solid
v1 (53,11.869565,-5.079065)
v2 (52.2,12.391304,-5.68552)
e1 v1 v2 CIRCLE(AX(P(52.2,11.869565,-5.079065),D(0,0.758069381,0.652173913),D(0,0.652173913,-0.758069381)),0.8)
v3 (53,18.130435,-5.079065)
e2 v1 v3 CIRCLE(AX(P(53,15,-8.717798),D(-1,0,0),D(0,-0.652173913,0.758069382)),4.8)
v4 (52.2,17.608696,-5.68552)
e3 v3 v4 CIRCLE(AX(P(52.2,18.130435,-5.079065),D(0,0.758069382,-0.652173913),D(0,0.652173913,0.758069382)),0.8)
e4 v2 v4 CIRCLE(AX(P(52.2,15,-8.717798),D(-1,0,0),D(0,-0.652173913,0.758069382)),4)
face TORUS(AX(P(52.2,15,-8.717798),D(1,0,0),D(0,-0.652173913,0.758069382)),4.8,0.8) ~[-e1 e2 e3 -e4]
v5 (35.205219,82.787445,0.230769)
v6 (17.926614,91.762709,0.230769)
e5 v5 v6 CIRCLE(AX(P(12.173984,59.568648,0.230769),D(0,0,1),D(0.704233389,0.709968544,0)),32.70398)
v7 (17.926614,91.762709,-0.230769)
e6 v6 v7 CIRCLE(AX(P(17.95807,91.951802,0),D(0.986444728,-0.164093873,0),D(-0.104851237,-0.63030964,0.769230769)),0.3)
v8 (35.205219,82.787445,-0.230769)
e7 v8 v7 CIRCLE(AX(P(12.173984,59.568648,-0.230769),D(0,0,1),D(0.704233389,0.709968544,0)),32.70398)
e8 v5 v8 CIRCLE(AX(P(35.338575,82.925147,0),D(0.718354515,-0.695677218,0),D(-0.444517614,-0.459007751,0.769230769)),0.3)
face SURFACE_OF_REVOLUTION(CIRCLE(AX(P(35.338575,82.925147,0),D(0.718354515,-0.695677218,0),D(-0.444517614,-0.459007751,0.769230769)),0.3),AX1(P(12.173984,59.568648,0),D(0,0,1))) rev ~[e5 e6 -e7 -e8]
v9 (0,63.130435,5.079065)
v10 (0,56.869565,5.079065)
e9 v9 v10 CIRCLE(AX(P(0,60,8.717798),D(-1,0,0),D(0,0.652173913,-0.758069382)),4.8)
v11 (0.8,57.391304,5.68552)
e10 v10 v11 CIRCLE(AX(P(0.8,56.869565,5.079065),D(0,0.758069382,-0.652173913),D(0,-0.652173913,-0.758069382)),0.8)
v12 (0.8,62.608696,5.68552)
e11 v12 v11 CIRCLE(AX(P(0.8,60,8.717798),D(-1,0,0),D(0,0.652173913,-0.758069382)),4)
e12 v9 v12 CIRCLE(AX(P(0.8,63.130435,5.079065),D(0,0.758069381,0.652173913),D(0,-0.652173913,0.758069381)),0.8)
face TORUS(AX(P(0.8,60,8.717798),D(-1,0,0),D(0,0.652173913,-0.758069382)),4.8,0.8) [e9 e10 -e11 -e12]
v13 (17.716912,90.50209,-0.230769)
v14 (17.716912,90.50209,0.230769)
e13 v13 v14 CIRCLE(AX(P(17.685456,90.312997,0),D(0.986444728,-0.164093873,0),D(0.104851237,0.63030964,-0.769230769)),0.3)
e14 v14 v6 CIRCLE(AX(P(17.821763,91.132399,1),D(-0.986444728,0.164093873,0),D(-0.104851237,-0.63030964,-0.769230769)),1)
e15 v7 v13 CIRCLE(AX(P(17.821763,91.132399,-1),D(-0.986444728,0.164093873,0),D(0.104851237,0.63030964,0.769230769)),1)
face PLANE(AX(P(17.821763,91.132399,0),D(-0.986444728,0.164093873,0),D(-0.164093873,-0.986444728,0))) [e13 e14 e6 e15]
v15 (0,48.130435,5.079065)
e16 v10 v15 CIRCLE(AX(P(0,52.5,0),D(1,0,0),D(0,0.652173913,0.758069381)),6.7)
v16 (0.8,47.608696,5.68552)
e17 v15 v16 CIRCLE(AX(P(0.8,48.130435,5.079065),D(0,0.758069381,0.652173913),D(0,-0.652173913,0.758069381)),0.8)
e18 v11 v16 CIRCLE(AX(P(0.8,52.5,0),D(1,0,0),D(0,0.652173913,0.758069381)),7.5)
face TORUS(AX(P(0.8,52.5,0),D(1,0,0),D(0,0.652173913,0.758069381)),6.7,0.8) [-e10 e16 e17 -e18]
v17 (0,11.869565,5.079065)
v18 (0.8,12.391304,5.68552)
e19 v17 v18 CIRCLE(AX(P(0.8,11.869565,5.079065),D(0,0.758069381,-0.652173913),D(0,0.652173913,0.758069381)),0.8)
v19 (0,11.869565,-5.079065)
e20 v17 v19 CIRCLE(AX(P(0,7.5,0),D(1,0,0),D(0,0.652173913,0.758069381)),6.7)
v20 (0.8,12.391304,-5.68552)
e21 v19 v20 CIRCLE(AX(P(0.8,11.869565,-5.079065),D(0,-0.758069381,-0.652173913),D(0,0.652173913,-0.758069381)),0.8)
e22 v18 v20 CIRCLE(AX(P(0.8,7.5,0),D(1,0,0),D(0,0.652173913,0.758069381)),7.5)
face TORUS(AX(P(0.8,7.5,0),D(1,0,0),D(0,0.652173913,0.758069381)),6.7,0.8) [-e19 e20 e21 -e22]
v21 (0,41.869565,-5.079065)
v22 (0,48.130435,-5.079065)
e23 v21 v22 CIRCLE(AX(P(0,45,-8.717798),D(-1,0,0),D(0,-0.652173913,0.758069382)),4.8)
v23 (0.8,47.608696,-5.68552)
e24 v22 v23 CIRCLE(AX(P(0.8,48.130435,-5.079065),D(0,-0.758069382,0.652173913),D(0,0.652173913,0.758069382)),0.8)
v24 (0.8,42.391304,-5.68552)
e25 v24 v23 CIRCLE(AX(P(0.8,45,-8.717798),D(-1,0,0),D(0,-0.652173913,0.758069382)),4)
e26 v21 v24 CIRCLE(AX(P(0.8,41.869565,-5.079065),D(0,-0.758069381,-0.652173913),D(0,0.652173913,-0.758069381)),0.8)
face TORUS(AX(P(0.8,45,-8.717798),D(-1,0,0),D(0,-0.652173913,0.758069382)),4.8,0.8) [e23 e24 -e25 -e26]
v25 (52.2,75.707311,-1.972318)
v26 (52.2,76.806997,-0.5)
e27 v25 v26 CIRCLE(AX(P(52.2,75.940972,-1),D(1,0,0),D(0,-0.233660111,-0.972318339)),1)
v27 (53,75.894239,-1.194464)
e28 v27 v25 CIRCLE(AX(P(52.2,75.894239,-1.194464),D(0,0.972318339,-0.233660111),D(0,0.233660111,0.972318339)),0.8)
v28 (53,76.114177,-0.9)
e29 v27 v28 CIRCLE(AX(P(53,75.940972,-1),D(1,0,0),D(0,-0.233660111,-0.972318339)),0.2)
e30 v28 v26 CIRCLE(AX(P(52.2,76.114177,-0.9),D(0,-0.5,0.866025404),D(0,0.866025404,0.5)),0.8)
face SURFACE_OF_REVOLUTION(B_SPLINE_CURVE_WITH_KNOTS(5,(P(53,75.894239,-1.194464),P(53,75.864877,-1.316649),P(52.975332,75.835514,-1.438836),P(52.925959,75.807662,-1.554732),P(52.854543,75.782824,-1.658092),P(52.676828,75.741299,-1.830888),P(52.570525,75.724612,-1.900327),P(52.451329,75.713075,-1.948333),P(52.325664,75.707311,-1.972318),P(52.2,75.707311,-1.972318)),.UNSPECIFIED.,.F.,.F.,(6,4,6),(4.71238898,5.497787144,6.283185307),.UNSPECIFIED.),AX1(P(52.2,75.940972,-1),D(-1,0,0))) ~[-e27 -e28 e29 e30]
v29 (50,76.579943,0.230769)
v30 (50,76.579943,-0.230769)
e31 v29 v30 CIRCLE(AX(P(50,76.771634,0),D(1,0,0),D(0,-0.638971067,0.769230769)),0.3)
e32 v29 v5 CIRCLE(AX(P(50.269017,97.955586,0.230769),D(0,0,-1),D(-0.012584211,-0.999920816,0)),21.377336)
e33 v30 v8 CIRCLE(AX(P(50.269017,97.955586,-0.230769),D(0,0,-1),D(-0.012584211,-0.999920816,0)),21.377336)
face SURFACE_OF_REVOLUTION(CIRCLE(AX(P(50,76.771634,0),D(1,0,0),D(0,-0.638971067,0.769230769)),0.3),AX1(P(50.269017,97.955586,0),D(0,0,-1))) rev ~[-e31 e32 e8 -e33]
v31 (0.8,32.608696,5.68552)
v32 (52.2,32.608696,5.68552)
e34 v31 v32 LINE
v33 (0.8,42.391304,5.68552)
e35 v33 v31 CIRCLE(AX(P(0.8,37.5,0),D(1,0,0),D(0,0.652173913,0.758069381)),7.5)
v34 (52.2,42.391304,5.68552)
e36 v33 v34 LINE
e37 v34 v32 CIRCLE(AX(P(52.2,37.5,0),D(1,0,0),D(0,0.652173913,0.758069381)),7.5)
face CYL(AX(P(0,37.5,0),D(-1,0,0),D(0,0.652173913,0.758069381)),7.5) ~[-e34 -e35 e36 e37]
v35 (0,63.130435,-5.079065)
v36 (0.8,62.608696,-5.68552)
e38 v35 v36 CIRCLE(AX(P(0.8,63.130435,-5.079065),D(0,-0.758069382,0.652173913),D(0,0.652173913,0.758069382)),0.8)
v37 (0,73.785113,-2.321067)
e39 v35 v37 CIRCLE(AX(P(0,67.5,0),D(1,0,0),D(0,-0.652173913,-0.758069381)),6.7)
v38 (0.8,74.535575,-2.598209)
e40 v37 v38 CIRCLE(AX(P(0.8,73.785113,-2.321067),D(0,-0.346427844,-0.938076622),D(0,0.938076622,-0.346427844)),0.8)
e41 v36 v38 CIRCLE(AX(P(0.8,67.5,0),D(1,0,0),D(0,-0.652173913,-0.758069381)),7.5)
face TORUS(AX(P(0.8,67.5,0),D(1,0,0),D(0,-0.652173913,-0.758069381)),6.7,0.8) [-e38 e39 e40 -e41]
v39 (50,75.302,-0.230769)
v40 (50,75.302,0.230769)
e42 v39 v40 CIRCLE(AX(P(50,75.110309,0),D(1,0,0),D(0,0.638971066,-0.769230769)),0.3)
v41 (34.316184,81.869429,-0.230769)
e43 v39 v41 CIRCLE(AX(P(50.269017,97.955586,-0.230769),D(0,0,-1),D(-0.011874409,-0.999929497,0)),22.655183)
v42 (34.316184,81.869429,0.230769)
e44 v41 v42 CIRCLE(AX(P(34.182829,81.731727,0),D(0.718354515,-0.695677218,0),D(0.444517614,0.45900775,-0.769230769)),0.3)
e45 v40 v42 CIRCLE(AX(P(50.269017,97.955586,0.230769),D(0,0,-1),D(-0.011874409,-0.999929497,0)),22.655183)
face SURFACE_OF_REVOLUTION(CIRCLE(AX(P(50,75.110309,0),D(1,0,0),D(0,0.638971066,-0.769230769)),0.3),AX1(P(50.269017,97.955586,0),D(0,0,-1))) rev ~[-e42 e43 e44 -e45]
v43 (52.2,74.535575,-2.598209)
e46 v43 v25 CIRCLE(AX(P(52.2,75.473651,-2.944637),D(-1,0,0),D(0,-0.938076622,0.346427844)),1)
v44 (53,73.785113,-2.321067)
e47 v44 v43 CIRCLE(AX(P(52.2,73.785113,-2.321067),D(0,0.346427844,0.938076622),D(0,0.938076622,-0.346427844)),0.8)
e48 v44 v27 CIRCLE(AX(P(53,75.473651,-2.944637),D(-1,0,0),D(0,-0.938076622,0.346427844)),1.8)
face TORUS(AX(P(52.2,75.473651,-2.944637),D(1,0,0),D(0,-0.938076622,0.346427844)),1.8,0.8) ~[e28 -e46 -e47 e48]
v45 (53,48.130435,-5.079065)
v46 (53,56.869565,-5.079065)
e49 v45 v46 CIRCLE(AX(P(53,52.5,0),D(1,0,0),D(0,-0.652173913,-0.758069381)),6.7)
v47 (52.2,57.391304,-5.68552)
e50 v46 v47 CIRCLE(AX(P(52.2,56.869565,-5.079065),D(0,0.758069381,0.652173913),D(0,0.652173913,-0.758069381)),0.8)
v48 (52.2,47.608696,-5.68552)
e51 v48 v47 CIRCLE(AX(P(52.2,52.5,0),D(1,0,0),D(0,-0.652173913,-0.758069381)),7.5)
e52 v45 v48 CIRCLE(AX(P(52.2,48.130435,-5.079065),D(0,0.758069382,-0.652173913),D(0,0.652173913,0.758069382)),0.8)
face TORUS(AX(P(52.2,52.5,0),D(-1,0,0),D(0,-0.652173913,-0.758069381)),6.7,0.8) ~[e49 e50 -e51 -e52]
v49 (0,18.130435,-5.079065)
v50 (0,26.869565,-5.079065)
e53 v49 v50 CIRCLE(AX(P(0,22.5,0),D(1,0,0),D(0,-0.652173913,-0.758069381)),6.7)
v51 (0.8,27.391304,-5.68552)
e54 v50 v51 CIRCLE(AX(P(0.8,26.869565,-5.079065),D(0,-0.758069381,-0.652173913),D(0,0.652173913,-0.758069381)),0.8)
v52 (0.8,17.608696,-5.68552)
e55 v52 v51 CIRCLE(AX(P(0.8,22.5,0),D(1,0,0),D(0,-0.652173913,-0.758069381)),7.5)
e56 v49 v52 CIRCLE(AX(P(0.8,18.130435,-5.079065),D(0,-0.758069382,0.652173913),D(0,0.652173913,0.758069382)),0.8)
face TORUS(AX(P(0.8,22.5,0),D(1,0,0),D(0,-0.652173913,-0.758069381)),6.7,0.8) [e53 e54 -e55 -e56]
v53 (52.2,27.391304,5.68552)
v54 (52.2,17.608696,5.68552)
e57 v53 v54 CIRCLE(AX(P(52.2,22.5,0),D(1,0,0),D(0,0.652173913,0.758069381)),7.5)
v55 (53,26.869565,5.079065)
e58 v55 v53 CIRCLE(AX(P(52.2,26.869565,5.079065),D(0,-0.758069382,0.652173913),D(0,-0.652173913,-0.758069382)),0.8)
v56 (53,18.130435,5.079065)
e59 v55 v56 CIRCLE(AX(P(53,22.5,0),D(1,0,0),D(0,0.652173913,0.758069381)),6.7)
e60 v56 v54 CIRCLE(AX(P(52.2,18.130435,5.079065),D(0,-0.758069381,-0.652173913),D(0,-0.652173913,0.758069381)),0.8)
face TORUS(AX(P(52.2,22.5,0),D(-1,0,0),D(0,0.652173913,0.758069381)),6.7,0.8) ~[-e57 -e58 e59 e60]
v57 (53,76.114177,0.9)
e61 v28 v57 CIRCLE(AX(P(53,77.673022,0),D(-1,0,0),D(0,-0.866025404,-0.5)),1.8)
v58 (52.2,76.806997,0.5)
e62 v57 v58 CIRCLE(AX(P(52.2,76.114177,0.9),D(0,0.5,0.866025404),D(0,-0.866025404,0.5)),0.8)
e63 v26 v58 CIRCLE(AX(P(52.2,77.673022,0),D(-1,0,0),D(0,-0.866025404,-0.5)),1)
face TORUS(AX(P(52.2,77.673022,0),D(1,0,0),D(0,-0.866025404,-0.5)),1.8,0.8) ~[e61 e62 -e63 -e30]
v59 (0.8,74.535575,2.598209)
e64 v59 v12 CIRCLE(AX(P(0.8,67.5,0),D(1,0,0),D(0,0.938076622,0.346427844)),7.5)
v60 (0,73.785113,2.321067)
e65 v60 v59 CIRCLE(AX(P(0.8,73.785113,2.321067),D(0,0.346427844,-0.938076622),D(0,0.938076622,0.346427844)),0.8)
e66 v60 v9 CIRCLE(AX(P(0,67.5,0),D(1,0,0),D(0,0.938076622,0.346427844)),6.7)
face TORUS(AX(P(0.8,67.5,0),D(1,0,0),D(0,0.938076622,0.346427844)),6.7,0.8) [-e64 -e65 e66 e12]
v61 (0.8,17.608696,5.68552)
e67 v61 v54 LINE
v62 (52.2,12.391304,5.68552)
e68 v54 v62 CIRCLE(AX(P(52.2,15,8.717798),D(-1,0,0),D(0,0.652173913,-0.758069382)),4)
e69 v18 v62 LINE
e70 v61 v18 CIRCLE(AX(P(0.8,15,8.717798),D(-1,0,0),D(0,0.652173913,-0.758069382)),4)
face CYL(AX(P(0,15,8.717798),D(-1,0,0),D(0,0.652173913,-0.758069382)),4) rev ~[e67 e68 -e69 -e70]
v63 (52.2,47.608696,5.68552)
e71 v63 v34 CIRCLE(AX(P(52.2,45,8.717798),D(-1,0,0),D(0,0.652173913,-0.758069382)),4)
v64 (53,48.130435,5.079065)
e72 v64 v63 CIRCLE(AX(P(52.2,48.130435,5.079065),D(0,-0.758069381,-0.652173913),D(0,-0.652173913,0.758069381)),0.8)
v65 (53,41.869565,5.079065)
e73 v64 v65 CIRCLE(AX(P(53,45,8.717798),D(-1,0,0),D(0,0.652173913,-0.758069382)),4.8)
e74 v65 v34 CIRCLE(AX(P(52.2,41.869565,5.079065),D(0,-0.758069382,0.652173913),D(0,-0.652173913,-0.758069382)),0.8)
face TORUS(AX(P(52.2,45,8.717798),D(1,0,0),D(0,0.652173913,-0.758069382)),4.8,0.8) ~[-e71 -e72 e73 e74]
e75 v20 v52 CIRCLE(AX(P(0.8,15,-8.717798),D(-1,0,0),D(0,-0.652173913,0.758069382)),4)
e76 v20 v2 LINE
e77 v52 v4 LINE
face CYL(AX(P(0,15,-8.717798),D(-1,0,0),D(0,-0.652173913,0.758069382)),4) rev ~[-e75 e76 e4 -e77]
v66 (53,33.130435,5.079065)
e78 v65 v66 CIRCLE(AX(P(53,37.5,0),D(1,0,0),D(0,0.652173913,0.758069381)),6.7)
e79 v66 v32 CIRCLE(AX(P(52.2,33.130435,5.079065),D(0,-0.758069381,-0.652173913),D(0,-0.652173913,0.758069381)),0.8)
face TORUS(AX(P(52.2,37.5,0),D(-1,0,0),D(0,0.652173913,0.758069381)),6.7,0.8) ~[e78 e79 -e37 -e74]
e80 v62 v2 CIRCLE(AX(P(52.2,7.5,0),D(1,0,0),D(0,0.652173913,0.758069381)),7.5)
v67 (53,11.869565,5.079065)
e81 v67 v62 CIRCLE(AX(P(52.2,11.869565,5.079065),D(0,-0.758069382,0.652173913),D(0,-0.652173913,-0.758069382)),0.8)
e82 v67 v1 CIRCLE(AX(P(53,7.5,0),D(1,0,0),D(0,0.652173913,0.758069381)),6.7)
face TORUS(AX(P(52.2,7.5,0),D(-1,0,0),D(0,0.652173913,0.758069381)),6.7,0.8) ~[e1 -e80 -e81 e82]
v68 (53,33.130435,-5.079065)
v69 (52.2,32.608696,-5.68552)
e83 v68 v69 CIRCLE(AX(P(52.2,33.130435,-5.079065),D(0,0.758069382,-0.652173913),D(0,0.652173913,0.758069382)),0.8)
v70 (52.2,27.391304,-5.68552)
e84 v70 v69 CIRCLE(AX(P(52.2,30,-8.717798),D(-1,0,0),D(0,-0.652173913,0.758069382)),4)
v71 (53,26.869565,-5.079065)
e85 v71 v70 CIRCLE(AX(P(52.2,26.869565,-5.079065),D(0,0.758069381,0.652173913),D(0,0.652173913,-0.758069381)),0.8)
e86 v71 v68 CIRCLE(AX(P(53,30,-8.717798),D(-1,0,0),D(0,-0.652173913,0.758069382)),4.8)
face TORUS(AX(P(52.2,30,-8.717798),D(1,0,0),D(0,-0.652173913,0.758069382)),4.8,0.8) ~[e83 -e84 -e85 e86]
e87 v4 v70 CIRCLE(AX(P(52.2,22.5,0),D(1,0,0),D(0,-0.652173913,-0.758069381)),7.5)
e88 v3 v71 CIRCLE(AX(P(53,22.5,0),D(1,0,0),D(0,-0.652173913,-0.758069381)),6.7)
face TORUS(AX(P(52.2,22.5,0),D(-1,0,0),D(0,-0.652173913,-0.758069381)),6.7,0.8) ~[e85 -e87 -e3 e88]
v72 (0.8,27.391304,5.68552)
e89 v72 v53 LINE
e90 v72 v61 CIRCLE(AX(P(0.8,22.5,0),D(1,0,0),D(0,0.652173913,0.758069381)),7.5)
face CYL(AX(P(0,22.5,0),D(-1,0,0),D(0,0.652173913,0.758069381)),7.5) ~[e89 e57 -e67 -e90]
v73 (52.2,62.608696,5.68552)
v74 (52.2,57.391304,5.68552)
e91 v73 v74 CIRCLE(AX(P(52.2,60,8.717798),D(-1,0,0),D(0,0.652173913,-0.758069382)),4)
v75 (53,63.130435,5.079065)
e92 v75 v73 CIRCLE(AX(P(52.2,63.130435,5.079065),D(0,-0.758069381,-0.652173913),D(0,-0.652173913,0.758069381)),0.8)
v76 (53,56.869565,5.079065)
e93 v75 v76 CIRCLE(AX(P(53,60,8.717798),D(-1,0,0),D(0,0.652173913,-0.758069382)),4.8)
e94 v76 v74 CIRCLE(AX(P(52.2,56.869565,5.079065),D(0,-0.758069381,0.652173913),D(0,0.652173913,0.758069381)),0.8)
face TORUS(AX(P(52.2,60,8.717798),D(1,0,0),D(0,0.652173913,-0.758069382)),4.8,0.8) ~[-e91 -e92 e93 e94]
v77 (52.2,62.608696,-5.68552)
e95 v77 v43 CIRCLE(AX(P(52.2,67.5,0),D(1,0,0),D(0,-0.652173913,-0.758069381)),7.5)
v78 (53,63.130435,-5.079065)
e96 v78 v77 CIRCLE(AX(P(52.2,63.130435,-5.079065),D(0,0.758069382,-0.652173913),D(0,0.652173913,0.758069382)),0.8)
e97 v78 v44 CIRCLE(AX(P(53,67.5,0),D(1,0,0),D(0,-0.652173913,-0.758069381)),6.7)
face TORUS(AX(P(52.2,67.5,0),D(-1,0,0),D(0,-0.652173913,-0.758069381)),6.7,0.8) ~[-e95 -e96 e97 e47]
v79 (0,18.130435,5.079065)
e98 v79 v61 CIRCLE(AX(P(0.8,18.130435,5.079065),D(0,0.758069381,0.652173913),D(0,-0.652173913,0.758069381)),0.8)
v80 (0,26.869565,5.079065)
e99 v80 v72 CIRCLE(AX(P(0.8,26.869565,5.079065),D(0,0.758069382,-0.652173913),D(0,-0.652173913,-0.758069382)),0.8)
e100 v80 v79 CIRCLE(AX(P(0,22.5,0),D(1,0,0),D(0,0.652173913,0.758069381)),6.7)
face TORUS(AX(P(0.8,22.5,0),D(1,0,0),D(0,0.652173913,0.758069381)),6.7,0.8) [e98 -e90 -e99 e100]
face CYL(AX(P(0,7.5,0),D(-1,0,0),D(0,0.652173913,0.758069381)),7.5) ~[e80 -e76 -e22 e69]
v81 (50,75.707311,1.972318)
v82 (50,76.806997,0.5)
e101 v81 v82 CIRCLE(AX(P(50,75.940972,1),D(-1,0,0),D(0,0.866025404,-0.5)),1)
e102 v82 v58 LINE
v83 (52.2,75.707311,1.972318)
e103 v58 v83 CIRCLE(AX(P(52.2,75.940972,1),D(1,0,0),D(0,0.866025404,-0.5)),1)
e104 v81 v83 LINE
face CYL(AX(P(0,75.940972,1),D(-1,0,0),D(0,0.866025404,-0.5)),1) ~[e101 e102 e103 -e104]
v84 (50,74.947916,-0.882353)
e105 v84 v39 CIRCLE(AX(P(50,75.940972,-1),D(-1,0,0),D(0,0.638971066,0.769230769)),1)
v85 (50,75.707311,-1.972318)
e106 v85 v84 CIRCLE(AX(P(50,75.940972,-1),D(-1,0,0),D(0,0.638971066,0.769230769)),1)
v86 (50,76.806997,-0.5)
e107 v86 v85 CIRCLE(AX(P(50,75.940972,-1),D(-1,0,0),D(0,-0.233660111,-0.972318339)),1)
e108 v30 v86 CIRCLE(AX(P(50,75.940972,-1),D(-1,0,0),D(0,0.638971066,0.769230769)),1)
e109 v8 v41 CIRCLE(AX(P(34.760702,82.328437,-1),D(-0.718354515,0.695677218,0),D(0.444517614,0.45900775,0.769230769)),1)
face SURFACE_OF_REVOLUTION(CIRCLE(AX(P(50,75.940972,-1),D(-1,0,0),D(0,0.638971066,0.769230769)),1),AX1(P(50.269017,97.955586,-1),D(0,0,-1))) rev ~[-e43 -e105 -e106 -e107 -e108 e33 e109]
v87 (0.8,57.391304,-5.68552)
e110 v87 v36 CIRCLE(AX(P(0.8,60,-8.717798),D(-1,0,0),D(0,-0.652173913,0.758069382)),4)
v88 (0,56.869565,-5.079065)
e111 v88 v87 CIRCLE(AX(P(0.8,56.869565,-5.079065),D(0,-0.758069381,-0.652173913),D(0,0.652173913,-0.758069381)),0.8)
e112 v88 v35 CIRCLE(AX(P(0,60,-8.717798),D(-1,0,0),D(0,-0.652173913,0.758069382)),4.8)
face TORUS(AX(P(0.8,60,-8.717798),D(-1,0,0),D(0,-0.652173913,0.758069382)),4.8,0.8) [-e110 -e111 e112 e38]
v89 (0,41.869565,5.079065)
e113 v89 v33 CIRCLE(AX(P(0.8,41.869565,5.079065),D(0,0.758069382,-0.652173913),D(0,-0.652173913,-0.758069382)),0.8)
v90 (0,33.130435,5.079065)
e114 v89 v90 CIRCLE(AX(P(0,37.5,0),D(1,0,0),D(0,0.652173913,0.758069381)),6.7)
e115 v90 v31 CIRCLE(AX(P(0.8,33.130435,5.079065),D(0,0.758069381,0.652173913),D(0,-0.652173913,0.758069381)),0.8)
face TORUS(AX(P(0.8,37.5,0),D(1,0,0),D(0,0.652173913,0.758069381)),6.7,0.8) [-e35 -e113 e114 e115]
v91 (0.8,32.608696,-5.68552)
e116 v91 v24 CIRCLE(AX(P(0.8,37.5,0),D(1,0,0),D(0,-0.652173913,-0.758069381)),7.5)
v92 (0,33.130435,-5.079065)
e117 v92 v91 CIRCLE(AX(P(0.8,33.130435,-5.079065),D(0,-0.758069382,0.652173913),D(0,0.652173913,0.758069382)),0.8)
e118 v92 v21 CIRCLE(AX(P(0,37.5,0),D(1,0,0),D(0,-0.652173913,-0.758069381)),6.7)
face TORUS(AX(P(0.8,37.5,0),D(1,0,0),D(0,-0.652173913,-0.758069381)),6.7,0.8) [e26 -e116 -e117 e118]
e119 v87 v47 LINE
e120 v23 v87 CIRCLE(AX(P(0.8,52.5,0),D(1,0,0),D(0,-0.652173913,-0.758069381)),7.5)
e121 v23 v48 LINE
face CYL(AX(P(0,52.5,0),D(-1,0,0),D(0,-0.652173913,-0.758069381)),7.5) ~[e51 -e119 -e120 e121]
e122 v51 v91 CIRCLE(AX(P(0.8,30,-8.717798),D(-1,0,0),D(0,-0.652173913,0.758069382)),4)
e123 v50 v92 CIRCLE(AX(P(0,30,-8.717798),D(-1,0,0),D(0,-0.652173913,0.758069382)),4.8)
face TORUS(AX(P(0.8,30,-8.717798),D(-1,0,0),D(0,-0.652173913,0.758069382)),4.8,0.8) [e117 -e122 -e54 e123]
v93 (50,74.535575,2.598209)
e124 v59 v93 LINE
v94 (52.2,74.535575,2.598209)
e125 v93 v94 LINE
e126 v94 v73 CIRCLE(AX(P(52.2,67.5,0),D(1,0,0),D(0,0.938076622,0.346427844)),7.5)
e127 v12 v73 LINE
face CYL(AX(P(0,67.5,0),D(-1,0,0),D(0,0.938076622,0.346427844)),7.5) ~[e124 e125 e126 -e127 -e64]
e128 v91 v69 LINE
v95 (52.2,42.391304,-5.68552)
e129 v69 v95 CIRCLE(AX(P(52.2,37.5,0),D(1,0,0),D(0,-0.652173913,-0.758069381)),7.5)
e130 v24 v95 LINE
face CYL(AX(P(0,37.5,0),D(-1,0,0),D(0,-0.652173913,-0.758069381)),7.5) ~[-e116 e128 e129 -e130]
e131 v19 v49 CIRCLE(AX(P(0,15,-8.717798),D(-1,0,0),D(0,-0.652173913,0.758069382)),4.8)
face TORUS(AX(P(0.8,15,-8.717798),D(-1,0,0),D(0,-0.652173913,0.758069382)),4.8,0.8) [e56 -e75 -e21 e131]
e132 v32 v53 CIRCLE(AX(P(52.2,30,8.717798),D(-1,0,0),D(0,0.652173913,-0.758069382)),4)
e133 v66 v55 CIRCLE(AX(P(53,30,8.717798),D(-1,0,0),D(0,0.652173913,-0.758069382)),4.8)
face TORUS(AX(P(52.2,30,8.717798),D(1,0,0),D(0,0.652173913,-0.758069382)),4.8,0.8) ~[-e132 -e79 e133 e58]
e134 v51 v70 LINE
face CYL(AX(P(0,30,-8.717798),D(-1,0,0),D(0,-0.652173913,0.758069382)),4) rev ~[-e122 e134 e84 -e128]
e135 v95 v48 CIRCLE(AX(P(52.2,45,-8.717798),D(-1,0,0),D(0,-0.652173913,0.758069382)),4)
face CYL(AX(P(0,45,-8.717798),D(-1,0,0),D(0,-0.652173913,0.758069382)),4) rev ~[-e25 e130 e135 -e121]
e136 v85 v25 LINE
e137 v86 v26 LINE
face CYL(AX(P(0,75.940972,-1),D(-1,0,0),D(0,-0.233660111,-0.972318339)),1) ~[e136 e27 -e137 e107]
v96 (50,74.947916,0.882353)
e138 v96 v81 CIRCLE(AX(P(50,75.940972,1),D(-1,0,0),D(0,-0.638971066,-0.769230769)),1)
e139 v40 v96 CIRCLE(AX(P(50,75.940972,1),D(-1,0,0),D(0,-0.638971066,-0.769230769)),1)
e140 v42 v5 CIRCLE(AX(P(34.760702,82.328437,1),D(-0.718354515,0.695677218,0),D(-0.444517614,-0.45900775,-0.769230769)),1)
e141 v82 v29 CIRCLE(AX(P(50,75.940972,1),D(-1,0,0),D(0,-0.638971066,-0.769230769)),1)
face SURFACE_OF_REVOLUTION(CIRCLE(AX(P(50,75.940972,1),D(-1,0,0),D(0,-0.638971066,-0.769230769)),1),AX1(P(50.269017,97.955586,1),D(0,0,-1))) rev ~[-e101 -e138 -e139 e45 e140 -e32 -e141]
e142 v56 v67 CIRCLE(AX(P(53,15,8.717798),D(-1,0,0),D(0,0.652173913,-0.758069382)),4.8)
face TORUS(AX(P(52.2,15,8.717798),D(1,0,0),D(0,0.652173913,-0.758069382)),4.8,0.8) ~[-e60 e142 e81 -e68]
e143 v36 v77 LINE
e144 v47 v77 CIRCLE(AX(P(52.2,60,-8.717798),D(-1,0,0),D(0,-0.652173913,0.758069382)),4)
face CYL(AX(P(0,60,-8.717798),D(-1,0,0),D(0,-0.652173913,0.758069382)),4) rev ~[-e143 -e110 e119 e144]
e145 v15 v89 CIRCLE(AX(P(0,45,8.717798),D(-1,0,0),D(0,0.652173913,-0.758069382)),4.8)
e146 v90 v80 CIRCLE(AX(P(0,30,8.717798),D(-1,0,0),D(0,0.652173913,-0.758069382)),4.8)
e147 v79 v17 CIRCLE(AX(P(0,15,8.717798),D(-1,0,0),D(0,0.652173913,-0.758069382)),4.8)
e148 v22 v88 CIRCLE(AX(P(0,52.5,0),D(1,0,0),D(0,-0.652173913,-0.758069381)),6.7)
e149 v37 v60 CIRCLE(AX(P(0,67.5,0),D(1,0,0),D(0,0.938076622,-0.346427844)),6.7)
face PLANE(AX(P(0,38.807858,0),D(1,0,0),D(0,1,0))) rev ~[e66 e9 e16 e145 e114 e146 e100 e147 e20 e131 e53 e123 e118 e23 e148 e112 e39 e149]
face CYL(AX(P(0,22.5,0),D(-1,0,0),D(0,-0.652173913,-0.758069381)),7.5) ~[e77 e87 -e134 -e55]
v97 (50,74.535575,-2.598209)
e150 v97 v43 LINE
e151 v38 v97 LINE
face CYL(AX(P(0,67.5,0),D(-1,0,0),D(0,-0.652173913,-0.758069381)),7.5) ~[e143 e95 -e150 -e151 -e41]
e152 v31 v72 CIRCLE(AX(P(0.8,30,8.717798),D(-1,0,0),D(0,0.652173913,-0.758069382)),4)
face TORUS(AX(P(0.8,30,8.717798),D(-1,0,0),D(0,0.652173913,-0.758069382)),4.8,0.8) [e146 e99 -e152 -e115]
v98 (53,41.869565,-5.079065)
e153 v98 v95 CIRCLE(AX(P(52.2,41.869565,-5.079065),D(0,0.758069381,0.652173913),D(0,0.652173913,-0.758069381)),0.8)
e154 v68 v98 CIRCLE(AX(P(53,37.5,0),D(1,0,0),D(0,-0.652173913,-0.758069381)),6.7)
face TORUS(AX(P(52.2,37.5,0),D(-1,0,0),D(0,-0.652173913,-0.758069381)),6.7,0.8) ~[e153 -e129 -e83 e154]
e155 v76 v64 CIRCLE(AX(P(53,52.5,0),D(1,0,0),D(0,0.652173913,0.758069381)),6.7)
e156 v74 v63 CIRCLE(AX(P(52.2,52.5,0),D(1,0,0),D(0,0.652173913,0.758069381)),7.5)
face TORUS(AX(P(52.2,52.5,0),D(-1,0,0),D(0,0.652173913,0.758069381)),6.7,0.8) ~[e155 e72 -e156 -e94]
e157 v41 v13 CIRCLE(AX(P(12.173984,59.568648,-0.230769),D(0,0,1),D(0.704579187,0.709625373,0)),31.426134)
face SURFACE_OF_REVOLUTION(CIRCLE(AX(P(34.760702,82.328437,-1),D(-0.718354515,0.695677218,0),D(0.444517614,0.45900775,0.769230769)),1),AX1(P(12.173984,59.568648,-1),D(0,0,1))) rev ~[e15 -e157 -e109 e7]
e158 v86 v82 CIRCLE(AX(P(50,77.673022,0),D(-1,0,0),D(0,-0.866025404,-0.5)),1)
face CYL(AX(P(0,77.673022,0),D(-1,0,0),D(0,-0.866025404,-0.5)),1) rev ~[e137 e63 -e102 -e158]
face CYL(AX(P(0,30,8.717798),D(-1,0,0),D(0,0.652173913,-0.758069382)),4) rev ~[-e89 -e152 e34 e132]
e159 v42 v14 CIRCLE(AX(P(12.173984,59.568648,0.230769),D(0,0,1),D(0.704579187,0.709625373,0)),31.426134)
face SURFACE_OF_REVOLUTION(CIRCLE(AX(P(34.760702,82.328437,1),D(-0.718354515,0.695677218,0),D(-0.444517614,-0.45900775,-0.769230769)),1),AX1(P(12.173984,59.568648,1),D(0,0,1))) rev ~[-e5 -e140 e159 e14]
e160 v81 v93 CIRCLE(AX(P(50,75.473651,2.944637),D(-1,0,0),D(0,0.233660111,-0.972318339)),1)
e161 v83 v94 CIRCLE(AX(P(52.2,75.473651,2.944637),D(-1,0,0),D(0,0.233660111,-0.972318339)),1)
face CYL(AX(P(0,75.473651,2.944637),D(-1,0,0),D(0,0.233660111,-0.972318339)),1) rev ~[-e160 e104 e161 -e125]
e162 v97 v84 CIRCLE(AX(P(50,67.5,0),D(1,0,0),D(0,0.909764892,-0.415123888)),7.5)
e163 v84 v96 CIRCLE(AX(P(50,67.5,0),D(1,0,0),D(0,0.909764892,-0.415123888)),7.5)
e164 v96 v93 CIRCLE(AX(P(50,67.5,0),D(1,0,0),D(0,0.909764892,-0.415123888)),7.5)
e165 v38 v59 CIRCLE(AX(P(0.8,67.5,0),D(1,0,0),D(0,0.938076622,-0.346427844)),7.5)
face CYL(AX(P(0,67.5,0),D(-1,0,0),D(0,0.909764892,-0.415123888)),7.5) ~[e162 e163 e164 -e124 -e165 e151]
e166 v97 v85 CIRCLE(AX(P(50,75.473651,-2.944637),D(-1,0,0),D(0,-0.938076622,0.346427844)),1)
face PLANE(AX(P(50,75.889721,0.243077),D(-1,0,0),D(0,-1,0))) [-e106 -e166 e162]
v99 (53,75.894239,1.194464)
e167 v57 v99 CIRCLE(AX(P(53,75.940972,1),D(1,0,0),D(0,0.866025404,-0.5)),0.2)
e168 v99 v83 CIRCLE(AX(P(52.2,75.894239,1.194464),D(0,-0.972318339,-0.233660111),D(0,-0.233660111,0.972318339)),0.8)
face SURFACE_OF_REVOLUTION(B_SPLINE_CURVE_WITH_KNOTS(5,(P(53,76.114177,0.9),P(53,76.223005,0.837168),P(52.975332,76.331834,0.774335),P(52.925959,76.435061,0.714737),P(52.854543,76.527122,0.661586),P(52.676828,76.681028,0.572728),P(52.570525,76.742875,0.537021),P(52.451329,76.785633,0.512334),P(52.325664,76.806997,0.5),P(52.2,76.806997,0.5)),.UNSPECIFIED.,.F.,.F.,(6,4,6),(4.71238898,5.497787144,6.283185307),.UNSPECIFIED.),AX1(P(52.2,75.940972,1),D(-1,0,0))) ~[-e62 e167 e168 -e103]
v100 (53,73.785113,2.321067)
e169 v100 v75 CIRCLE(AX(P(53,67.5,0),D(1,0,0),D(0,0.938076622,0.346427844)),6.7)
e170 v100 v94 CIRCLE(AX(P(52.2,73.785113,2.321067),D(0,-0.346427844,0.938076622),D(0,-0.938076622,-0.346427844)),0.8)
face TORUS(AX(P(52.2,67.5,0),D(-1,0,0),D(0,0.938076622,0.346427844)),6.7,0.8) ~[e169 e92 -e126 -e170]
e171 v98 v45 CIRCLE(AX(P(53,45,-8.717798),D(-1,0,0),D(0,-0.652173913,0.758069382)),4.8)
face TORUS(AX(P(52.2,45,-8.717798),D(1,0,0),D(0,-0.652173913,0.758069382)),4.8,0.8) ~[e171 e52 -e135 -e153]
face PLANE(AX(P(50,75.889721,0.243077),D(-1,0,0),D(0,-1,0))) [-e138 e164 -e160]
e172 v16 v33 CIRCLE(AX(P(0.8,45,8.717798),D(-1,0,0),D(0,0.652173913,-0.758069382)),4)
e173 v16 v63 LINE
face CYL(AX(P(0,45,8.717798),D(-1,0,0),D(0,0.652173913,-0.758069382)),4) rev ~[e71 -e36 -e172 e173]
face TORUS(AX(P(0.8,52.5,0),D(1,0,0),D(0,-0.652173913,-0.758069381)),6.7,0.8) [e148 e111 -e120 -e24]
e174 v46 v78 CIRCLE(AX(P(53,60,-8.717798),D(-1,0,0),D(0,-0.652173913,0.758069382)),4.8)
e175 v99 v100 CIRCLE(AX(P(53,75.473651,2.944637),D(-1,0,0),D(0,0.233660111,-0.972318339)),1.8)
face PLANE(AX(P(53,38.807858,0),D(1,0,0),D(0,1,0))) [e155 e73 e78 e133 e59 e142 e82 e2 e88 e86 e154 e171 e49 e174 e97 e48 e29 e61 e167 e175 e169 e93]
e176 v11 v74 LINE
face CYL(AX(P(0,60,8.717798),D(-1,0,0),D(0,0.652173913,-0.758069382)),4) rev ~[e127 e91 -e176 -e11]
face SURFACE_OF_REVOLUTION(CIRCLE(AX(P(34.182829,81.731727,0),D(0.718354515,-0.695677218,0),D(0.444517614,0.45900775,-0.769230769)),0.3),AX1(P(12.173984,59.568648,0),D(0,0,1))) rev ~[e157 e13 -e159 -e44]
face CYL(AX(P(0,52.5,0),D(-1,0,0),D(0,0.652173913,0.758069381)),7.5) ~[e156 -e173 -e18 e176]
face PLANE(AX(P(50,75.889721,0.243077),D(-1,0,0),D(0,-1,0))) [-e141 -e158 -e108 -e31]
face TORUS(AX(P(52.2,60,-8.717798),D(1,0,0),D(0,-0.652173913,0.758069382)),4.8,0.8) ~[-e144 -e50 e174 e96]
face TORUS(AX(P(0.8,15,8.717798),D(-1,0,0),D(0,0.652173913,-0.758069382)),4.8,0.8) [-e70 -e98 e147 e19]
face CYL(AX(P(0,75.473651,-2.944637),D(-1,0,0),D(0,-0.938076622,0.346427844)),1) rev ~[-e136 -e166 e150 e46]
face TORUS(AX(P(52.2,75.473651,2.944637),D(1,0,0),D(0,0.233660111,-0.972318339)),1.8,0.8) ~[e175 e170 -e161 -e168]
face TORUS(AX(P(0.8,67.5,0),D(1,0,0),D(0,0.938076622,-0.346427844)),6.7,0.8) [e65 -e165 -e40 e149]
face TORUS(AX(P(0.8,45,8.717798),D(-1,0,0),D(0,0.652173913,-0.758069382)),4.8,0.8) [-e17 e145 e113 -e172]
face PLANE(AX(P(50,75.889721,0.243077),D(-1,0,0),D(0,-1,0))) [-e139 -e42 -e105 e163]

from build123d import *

# Parameters (mm, degrees)
F1_DEPTH = 53
F3_DEPTH = 50
F7_R     = 0.8


with BuildPart() as f1:
    # F0 (on Right) → F1 (new body)
    with BuildSketch(Plane.YZ):
        with BuildLine():
            ThreePointArc((17.6086956522, 5.6855203611), (15, 4.7177978871), (12.3913043478, 5.6855203611))
            ThreePointArc((12.3913043478, 5.6855203611), (0, 0), (12.3913043478, -5.6855203611))
            ThreePointArc((12.3913043478, -5.6855203611), (15, -4.7177978871), (17.6086956522, -5.6855203611))
            ThreePointArc((17.6086956522, -5.6855203611), (22.5, -7.5), (27.3913043478, -5.6855203611))
            ThreePointArc((27.3913043478, -5.6855203611), (30, -4.7177978871), (32.6086956522, -5.6855203611))
            ThreePointArc((32.6086956522, -5.6855203611), (37.5, -7.5), (42.3913043478, -5.6855203611))
            ThreePointArc((42.3913043478, -5.6855203611), (45, -4.7177978871), (47.6086956522, -5.6855203611))
            ThreePointArc((47.6086956522, -5.6855203611), (52.5, -7.5), (57.3913043478, -5.6855203611))
            ThreePointArc((57.3913043478, -5.6855203611), (60, -4.7177978871), (62.6086956522, -5.6855203611))
            ThreePointArc((62.6086956522, -5.6855203611), (69.3794538873, -7.2606923283), (74.5355746643, -2.5982088337))
            ThreePointArc((74.5355746643, -2.5982088337), (75.0024980382, -2.0625853095), (75.7073113971, -1.9723183391))
            ThreePointArc((75.7073113971, -1.9723183391), (76.7421592444, -1.5984130774), (76.8069969119, -0.5))
            ThreePointArc((76.8069969119, -0.5), (76.6730223156, 0), (76.8069969119, 0.5))
            ThreePointArc((76.8069969119, 0.5), (76.7421592444, 1.5984130774), (75.7073113971, 1.9723183391))
            ThreePointArc((75.7073113971, 1.9723183391), (75.0024980382, 2.0625853095), (74.5355746643, 2.5982088337))
            ThreePointArc((74.5355746643, 2.5982088337), (69.3794538873, 7.2606923283), (62.6086956522, 5.6855203611))
            ThreePointArc((62.6086956522, 5.6855203611), (60, 4.7177978871), (57.3913043478, 5.6855203611))
            ThreePointArc((57.3913043478, 5.6855203611), (52.5, 7.5), (47.6086956522, 5.6855203611))
            ThreePointArc((47.6086956522, 5.6855203611), (45, 4.7177978871), (42.3913043478, 5.6855203611))
            ThreePointArc((42.3913043478, 5.6855203611), (37.5, 7.5), (32.6086956522, 5.6855203611))
            ThreePointArc((32.6086956522, 5.6855203611), (30, 4.7177978871), (27.3913043478, 5.6855203611))
            ThreePointArc((27.3913043478, 5.6855203611), (22.5, 7.5), (17.6086956522, 5.6855203611))
        make_face()
    extrude(amount=F1_DEPTH)

    # F2 (on face) → F3 (cut)
    with BuildSketch(Plane(origin=(0, 0, 0), x_dir=(0, -1, 0), z_dir=(-1, 0, 0))):
        with BuildLine():
            ThreePointArc((-74.3232366862, -3.1134291585), (-74.9968540521, 0.2172080127), (-74.1315299701, 3.5032570924))
            Line((-74.1315299701, 3.5032570924), (-76.3535118617, 4.6770697505))
            ThreePointArc((-76.3535118617, 4.6770697505), (-77.5087742309, 0.2899864323), (-76.6094524504, -4.1566248075))
            Line((-76.6094524504, -4.1566248075), (-74.3232366862, -3.1134291585))
        make_face()
    extrude(amount=-F3_DEPTH, mode=Mode.SUBTRACT)

    # F6: sweep along a path in F5
    with BuildLine(Plane.XY) as f6_path:
        ThreePointArc((50, 75.9409715081), (41.758377577, 77.6507924909), (34.7607016812, 82.3284371988))
        ThreePointArc((34.7607016812, 82.3284371988), (26.9616186669, 88.0202502557), (17.821763065, 91.1323992428))
    # F4 (on face) → F6 (sweep)
    with BuildSketch(Plane(origin=(50, 0, 0), x_dir=(0, -1, 0), z_dir=(-1, 0, 0))):
        with BuildLine():
            ThreePointArc((-75.3020004417, -0.2307692308), (-75.4103091218, 0), (-75.3020004417, 0.2307692308))
            ThreePointArc((-75.3020004417, 0.2307692308), (-75.9409715081, 2), (-76.5799425744, 0.2307692308))
            ThreePointArc((-76.5799425744, 0.2307692308), (-76.4716338944, 0), (-76.5799425744, -0.2307692308))
            ThreePointArc((-76.5799425744, -0.2307692308), (-75.9409715081, -2), (-75.3020004417, -0.2307692308))
        make_face()
    sweep(path=f6_path.line)

    # F7
    f7_edges = [f1.edges().sort_by_distance(p)[0] for p in [
        (0, 0, 0),
        (53, 52.5, 7.5),
    ]]
    fillet(f7_edges, radius=F7_R)


solid = f1.part
